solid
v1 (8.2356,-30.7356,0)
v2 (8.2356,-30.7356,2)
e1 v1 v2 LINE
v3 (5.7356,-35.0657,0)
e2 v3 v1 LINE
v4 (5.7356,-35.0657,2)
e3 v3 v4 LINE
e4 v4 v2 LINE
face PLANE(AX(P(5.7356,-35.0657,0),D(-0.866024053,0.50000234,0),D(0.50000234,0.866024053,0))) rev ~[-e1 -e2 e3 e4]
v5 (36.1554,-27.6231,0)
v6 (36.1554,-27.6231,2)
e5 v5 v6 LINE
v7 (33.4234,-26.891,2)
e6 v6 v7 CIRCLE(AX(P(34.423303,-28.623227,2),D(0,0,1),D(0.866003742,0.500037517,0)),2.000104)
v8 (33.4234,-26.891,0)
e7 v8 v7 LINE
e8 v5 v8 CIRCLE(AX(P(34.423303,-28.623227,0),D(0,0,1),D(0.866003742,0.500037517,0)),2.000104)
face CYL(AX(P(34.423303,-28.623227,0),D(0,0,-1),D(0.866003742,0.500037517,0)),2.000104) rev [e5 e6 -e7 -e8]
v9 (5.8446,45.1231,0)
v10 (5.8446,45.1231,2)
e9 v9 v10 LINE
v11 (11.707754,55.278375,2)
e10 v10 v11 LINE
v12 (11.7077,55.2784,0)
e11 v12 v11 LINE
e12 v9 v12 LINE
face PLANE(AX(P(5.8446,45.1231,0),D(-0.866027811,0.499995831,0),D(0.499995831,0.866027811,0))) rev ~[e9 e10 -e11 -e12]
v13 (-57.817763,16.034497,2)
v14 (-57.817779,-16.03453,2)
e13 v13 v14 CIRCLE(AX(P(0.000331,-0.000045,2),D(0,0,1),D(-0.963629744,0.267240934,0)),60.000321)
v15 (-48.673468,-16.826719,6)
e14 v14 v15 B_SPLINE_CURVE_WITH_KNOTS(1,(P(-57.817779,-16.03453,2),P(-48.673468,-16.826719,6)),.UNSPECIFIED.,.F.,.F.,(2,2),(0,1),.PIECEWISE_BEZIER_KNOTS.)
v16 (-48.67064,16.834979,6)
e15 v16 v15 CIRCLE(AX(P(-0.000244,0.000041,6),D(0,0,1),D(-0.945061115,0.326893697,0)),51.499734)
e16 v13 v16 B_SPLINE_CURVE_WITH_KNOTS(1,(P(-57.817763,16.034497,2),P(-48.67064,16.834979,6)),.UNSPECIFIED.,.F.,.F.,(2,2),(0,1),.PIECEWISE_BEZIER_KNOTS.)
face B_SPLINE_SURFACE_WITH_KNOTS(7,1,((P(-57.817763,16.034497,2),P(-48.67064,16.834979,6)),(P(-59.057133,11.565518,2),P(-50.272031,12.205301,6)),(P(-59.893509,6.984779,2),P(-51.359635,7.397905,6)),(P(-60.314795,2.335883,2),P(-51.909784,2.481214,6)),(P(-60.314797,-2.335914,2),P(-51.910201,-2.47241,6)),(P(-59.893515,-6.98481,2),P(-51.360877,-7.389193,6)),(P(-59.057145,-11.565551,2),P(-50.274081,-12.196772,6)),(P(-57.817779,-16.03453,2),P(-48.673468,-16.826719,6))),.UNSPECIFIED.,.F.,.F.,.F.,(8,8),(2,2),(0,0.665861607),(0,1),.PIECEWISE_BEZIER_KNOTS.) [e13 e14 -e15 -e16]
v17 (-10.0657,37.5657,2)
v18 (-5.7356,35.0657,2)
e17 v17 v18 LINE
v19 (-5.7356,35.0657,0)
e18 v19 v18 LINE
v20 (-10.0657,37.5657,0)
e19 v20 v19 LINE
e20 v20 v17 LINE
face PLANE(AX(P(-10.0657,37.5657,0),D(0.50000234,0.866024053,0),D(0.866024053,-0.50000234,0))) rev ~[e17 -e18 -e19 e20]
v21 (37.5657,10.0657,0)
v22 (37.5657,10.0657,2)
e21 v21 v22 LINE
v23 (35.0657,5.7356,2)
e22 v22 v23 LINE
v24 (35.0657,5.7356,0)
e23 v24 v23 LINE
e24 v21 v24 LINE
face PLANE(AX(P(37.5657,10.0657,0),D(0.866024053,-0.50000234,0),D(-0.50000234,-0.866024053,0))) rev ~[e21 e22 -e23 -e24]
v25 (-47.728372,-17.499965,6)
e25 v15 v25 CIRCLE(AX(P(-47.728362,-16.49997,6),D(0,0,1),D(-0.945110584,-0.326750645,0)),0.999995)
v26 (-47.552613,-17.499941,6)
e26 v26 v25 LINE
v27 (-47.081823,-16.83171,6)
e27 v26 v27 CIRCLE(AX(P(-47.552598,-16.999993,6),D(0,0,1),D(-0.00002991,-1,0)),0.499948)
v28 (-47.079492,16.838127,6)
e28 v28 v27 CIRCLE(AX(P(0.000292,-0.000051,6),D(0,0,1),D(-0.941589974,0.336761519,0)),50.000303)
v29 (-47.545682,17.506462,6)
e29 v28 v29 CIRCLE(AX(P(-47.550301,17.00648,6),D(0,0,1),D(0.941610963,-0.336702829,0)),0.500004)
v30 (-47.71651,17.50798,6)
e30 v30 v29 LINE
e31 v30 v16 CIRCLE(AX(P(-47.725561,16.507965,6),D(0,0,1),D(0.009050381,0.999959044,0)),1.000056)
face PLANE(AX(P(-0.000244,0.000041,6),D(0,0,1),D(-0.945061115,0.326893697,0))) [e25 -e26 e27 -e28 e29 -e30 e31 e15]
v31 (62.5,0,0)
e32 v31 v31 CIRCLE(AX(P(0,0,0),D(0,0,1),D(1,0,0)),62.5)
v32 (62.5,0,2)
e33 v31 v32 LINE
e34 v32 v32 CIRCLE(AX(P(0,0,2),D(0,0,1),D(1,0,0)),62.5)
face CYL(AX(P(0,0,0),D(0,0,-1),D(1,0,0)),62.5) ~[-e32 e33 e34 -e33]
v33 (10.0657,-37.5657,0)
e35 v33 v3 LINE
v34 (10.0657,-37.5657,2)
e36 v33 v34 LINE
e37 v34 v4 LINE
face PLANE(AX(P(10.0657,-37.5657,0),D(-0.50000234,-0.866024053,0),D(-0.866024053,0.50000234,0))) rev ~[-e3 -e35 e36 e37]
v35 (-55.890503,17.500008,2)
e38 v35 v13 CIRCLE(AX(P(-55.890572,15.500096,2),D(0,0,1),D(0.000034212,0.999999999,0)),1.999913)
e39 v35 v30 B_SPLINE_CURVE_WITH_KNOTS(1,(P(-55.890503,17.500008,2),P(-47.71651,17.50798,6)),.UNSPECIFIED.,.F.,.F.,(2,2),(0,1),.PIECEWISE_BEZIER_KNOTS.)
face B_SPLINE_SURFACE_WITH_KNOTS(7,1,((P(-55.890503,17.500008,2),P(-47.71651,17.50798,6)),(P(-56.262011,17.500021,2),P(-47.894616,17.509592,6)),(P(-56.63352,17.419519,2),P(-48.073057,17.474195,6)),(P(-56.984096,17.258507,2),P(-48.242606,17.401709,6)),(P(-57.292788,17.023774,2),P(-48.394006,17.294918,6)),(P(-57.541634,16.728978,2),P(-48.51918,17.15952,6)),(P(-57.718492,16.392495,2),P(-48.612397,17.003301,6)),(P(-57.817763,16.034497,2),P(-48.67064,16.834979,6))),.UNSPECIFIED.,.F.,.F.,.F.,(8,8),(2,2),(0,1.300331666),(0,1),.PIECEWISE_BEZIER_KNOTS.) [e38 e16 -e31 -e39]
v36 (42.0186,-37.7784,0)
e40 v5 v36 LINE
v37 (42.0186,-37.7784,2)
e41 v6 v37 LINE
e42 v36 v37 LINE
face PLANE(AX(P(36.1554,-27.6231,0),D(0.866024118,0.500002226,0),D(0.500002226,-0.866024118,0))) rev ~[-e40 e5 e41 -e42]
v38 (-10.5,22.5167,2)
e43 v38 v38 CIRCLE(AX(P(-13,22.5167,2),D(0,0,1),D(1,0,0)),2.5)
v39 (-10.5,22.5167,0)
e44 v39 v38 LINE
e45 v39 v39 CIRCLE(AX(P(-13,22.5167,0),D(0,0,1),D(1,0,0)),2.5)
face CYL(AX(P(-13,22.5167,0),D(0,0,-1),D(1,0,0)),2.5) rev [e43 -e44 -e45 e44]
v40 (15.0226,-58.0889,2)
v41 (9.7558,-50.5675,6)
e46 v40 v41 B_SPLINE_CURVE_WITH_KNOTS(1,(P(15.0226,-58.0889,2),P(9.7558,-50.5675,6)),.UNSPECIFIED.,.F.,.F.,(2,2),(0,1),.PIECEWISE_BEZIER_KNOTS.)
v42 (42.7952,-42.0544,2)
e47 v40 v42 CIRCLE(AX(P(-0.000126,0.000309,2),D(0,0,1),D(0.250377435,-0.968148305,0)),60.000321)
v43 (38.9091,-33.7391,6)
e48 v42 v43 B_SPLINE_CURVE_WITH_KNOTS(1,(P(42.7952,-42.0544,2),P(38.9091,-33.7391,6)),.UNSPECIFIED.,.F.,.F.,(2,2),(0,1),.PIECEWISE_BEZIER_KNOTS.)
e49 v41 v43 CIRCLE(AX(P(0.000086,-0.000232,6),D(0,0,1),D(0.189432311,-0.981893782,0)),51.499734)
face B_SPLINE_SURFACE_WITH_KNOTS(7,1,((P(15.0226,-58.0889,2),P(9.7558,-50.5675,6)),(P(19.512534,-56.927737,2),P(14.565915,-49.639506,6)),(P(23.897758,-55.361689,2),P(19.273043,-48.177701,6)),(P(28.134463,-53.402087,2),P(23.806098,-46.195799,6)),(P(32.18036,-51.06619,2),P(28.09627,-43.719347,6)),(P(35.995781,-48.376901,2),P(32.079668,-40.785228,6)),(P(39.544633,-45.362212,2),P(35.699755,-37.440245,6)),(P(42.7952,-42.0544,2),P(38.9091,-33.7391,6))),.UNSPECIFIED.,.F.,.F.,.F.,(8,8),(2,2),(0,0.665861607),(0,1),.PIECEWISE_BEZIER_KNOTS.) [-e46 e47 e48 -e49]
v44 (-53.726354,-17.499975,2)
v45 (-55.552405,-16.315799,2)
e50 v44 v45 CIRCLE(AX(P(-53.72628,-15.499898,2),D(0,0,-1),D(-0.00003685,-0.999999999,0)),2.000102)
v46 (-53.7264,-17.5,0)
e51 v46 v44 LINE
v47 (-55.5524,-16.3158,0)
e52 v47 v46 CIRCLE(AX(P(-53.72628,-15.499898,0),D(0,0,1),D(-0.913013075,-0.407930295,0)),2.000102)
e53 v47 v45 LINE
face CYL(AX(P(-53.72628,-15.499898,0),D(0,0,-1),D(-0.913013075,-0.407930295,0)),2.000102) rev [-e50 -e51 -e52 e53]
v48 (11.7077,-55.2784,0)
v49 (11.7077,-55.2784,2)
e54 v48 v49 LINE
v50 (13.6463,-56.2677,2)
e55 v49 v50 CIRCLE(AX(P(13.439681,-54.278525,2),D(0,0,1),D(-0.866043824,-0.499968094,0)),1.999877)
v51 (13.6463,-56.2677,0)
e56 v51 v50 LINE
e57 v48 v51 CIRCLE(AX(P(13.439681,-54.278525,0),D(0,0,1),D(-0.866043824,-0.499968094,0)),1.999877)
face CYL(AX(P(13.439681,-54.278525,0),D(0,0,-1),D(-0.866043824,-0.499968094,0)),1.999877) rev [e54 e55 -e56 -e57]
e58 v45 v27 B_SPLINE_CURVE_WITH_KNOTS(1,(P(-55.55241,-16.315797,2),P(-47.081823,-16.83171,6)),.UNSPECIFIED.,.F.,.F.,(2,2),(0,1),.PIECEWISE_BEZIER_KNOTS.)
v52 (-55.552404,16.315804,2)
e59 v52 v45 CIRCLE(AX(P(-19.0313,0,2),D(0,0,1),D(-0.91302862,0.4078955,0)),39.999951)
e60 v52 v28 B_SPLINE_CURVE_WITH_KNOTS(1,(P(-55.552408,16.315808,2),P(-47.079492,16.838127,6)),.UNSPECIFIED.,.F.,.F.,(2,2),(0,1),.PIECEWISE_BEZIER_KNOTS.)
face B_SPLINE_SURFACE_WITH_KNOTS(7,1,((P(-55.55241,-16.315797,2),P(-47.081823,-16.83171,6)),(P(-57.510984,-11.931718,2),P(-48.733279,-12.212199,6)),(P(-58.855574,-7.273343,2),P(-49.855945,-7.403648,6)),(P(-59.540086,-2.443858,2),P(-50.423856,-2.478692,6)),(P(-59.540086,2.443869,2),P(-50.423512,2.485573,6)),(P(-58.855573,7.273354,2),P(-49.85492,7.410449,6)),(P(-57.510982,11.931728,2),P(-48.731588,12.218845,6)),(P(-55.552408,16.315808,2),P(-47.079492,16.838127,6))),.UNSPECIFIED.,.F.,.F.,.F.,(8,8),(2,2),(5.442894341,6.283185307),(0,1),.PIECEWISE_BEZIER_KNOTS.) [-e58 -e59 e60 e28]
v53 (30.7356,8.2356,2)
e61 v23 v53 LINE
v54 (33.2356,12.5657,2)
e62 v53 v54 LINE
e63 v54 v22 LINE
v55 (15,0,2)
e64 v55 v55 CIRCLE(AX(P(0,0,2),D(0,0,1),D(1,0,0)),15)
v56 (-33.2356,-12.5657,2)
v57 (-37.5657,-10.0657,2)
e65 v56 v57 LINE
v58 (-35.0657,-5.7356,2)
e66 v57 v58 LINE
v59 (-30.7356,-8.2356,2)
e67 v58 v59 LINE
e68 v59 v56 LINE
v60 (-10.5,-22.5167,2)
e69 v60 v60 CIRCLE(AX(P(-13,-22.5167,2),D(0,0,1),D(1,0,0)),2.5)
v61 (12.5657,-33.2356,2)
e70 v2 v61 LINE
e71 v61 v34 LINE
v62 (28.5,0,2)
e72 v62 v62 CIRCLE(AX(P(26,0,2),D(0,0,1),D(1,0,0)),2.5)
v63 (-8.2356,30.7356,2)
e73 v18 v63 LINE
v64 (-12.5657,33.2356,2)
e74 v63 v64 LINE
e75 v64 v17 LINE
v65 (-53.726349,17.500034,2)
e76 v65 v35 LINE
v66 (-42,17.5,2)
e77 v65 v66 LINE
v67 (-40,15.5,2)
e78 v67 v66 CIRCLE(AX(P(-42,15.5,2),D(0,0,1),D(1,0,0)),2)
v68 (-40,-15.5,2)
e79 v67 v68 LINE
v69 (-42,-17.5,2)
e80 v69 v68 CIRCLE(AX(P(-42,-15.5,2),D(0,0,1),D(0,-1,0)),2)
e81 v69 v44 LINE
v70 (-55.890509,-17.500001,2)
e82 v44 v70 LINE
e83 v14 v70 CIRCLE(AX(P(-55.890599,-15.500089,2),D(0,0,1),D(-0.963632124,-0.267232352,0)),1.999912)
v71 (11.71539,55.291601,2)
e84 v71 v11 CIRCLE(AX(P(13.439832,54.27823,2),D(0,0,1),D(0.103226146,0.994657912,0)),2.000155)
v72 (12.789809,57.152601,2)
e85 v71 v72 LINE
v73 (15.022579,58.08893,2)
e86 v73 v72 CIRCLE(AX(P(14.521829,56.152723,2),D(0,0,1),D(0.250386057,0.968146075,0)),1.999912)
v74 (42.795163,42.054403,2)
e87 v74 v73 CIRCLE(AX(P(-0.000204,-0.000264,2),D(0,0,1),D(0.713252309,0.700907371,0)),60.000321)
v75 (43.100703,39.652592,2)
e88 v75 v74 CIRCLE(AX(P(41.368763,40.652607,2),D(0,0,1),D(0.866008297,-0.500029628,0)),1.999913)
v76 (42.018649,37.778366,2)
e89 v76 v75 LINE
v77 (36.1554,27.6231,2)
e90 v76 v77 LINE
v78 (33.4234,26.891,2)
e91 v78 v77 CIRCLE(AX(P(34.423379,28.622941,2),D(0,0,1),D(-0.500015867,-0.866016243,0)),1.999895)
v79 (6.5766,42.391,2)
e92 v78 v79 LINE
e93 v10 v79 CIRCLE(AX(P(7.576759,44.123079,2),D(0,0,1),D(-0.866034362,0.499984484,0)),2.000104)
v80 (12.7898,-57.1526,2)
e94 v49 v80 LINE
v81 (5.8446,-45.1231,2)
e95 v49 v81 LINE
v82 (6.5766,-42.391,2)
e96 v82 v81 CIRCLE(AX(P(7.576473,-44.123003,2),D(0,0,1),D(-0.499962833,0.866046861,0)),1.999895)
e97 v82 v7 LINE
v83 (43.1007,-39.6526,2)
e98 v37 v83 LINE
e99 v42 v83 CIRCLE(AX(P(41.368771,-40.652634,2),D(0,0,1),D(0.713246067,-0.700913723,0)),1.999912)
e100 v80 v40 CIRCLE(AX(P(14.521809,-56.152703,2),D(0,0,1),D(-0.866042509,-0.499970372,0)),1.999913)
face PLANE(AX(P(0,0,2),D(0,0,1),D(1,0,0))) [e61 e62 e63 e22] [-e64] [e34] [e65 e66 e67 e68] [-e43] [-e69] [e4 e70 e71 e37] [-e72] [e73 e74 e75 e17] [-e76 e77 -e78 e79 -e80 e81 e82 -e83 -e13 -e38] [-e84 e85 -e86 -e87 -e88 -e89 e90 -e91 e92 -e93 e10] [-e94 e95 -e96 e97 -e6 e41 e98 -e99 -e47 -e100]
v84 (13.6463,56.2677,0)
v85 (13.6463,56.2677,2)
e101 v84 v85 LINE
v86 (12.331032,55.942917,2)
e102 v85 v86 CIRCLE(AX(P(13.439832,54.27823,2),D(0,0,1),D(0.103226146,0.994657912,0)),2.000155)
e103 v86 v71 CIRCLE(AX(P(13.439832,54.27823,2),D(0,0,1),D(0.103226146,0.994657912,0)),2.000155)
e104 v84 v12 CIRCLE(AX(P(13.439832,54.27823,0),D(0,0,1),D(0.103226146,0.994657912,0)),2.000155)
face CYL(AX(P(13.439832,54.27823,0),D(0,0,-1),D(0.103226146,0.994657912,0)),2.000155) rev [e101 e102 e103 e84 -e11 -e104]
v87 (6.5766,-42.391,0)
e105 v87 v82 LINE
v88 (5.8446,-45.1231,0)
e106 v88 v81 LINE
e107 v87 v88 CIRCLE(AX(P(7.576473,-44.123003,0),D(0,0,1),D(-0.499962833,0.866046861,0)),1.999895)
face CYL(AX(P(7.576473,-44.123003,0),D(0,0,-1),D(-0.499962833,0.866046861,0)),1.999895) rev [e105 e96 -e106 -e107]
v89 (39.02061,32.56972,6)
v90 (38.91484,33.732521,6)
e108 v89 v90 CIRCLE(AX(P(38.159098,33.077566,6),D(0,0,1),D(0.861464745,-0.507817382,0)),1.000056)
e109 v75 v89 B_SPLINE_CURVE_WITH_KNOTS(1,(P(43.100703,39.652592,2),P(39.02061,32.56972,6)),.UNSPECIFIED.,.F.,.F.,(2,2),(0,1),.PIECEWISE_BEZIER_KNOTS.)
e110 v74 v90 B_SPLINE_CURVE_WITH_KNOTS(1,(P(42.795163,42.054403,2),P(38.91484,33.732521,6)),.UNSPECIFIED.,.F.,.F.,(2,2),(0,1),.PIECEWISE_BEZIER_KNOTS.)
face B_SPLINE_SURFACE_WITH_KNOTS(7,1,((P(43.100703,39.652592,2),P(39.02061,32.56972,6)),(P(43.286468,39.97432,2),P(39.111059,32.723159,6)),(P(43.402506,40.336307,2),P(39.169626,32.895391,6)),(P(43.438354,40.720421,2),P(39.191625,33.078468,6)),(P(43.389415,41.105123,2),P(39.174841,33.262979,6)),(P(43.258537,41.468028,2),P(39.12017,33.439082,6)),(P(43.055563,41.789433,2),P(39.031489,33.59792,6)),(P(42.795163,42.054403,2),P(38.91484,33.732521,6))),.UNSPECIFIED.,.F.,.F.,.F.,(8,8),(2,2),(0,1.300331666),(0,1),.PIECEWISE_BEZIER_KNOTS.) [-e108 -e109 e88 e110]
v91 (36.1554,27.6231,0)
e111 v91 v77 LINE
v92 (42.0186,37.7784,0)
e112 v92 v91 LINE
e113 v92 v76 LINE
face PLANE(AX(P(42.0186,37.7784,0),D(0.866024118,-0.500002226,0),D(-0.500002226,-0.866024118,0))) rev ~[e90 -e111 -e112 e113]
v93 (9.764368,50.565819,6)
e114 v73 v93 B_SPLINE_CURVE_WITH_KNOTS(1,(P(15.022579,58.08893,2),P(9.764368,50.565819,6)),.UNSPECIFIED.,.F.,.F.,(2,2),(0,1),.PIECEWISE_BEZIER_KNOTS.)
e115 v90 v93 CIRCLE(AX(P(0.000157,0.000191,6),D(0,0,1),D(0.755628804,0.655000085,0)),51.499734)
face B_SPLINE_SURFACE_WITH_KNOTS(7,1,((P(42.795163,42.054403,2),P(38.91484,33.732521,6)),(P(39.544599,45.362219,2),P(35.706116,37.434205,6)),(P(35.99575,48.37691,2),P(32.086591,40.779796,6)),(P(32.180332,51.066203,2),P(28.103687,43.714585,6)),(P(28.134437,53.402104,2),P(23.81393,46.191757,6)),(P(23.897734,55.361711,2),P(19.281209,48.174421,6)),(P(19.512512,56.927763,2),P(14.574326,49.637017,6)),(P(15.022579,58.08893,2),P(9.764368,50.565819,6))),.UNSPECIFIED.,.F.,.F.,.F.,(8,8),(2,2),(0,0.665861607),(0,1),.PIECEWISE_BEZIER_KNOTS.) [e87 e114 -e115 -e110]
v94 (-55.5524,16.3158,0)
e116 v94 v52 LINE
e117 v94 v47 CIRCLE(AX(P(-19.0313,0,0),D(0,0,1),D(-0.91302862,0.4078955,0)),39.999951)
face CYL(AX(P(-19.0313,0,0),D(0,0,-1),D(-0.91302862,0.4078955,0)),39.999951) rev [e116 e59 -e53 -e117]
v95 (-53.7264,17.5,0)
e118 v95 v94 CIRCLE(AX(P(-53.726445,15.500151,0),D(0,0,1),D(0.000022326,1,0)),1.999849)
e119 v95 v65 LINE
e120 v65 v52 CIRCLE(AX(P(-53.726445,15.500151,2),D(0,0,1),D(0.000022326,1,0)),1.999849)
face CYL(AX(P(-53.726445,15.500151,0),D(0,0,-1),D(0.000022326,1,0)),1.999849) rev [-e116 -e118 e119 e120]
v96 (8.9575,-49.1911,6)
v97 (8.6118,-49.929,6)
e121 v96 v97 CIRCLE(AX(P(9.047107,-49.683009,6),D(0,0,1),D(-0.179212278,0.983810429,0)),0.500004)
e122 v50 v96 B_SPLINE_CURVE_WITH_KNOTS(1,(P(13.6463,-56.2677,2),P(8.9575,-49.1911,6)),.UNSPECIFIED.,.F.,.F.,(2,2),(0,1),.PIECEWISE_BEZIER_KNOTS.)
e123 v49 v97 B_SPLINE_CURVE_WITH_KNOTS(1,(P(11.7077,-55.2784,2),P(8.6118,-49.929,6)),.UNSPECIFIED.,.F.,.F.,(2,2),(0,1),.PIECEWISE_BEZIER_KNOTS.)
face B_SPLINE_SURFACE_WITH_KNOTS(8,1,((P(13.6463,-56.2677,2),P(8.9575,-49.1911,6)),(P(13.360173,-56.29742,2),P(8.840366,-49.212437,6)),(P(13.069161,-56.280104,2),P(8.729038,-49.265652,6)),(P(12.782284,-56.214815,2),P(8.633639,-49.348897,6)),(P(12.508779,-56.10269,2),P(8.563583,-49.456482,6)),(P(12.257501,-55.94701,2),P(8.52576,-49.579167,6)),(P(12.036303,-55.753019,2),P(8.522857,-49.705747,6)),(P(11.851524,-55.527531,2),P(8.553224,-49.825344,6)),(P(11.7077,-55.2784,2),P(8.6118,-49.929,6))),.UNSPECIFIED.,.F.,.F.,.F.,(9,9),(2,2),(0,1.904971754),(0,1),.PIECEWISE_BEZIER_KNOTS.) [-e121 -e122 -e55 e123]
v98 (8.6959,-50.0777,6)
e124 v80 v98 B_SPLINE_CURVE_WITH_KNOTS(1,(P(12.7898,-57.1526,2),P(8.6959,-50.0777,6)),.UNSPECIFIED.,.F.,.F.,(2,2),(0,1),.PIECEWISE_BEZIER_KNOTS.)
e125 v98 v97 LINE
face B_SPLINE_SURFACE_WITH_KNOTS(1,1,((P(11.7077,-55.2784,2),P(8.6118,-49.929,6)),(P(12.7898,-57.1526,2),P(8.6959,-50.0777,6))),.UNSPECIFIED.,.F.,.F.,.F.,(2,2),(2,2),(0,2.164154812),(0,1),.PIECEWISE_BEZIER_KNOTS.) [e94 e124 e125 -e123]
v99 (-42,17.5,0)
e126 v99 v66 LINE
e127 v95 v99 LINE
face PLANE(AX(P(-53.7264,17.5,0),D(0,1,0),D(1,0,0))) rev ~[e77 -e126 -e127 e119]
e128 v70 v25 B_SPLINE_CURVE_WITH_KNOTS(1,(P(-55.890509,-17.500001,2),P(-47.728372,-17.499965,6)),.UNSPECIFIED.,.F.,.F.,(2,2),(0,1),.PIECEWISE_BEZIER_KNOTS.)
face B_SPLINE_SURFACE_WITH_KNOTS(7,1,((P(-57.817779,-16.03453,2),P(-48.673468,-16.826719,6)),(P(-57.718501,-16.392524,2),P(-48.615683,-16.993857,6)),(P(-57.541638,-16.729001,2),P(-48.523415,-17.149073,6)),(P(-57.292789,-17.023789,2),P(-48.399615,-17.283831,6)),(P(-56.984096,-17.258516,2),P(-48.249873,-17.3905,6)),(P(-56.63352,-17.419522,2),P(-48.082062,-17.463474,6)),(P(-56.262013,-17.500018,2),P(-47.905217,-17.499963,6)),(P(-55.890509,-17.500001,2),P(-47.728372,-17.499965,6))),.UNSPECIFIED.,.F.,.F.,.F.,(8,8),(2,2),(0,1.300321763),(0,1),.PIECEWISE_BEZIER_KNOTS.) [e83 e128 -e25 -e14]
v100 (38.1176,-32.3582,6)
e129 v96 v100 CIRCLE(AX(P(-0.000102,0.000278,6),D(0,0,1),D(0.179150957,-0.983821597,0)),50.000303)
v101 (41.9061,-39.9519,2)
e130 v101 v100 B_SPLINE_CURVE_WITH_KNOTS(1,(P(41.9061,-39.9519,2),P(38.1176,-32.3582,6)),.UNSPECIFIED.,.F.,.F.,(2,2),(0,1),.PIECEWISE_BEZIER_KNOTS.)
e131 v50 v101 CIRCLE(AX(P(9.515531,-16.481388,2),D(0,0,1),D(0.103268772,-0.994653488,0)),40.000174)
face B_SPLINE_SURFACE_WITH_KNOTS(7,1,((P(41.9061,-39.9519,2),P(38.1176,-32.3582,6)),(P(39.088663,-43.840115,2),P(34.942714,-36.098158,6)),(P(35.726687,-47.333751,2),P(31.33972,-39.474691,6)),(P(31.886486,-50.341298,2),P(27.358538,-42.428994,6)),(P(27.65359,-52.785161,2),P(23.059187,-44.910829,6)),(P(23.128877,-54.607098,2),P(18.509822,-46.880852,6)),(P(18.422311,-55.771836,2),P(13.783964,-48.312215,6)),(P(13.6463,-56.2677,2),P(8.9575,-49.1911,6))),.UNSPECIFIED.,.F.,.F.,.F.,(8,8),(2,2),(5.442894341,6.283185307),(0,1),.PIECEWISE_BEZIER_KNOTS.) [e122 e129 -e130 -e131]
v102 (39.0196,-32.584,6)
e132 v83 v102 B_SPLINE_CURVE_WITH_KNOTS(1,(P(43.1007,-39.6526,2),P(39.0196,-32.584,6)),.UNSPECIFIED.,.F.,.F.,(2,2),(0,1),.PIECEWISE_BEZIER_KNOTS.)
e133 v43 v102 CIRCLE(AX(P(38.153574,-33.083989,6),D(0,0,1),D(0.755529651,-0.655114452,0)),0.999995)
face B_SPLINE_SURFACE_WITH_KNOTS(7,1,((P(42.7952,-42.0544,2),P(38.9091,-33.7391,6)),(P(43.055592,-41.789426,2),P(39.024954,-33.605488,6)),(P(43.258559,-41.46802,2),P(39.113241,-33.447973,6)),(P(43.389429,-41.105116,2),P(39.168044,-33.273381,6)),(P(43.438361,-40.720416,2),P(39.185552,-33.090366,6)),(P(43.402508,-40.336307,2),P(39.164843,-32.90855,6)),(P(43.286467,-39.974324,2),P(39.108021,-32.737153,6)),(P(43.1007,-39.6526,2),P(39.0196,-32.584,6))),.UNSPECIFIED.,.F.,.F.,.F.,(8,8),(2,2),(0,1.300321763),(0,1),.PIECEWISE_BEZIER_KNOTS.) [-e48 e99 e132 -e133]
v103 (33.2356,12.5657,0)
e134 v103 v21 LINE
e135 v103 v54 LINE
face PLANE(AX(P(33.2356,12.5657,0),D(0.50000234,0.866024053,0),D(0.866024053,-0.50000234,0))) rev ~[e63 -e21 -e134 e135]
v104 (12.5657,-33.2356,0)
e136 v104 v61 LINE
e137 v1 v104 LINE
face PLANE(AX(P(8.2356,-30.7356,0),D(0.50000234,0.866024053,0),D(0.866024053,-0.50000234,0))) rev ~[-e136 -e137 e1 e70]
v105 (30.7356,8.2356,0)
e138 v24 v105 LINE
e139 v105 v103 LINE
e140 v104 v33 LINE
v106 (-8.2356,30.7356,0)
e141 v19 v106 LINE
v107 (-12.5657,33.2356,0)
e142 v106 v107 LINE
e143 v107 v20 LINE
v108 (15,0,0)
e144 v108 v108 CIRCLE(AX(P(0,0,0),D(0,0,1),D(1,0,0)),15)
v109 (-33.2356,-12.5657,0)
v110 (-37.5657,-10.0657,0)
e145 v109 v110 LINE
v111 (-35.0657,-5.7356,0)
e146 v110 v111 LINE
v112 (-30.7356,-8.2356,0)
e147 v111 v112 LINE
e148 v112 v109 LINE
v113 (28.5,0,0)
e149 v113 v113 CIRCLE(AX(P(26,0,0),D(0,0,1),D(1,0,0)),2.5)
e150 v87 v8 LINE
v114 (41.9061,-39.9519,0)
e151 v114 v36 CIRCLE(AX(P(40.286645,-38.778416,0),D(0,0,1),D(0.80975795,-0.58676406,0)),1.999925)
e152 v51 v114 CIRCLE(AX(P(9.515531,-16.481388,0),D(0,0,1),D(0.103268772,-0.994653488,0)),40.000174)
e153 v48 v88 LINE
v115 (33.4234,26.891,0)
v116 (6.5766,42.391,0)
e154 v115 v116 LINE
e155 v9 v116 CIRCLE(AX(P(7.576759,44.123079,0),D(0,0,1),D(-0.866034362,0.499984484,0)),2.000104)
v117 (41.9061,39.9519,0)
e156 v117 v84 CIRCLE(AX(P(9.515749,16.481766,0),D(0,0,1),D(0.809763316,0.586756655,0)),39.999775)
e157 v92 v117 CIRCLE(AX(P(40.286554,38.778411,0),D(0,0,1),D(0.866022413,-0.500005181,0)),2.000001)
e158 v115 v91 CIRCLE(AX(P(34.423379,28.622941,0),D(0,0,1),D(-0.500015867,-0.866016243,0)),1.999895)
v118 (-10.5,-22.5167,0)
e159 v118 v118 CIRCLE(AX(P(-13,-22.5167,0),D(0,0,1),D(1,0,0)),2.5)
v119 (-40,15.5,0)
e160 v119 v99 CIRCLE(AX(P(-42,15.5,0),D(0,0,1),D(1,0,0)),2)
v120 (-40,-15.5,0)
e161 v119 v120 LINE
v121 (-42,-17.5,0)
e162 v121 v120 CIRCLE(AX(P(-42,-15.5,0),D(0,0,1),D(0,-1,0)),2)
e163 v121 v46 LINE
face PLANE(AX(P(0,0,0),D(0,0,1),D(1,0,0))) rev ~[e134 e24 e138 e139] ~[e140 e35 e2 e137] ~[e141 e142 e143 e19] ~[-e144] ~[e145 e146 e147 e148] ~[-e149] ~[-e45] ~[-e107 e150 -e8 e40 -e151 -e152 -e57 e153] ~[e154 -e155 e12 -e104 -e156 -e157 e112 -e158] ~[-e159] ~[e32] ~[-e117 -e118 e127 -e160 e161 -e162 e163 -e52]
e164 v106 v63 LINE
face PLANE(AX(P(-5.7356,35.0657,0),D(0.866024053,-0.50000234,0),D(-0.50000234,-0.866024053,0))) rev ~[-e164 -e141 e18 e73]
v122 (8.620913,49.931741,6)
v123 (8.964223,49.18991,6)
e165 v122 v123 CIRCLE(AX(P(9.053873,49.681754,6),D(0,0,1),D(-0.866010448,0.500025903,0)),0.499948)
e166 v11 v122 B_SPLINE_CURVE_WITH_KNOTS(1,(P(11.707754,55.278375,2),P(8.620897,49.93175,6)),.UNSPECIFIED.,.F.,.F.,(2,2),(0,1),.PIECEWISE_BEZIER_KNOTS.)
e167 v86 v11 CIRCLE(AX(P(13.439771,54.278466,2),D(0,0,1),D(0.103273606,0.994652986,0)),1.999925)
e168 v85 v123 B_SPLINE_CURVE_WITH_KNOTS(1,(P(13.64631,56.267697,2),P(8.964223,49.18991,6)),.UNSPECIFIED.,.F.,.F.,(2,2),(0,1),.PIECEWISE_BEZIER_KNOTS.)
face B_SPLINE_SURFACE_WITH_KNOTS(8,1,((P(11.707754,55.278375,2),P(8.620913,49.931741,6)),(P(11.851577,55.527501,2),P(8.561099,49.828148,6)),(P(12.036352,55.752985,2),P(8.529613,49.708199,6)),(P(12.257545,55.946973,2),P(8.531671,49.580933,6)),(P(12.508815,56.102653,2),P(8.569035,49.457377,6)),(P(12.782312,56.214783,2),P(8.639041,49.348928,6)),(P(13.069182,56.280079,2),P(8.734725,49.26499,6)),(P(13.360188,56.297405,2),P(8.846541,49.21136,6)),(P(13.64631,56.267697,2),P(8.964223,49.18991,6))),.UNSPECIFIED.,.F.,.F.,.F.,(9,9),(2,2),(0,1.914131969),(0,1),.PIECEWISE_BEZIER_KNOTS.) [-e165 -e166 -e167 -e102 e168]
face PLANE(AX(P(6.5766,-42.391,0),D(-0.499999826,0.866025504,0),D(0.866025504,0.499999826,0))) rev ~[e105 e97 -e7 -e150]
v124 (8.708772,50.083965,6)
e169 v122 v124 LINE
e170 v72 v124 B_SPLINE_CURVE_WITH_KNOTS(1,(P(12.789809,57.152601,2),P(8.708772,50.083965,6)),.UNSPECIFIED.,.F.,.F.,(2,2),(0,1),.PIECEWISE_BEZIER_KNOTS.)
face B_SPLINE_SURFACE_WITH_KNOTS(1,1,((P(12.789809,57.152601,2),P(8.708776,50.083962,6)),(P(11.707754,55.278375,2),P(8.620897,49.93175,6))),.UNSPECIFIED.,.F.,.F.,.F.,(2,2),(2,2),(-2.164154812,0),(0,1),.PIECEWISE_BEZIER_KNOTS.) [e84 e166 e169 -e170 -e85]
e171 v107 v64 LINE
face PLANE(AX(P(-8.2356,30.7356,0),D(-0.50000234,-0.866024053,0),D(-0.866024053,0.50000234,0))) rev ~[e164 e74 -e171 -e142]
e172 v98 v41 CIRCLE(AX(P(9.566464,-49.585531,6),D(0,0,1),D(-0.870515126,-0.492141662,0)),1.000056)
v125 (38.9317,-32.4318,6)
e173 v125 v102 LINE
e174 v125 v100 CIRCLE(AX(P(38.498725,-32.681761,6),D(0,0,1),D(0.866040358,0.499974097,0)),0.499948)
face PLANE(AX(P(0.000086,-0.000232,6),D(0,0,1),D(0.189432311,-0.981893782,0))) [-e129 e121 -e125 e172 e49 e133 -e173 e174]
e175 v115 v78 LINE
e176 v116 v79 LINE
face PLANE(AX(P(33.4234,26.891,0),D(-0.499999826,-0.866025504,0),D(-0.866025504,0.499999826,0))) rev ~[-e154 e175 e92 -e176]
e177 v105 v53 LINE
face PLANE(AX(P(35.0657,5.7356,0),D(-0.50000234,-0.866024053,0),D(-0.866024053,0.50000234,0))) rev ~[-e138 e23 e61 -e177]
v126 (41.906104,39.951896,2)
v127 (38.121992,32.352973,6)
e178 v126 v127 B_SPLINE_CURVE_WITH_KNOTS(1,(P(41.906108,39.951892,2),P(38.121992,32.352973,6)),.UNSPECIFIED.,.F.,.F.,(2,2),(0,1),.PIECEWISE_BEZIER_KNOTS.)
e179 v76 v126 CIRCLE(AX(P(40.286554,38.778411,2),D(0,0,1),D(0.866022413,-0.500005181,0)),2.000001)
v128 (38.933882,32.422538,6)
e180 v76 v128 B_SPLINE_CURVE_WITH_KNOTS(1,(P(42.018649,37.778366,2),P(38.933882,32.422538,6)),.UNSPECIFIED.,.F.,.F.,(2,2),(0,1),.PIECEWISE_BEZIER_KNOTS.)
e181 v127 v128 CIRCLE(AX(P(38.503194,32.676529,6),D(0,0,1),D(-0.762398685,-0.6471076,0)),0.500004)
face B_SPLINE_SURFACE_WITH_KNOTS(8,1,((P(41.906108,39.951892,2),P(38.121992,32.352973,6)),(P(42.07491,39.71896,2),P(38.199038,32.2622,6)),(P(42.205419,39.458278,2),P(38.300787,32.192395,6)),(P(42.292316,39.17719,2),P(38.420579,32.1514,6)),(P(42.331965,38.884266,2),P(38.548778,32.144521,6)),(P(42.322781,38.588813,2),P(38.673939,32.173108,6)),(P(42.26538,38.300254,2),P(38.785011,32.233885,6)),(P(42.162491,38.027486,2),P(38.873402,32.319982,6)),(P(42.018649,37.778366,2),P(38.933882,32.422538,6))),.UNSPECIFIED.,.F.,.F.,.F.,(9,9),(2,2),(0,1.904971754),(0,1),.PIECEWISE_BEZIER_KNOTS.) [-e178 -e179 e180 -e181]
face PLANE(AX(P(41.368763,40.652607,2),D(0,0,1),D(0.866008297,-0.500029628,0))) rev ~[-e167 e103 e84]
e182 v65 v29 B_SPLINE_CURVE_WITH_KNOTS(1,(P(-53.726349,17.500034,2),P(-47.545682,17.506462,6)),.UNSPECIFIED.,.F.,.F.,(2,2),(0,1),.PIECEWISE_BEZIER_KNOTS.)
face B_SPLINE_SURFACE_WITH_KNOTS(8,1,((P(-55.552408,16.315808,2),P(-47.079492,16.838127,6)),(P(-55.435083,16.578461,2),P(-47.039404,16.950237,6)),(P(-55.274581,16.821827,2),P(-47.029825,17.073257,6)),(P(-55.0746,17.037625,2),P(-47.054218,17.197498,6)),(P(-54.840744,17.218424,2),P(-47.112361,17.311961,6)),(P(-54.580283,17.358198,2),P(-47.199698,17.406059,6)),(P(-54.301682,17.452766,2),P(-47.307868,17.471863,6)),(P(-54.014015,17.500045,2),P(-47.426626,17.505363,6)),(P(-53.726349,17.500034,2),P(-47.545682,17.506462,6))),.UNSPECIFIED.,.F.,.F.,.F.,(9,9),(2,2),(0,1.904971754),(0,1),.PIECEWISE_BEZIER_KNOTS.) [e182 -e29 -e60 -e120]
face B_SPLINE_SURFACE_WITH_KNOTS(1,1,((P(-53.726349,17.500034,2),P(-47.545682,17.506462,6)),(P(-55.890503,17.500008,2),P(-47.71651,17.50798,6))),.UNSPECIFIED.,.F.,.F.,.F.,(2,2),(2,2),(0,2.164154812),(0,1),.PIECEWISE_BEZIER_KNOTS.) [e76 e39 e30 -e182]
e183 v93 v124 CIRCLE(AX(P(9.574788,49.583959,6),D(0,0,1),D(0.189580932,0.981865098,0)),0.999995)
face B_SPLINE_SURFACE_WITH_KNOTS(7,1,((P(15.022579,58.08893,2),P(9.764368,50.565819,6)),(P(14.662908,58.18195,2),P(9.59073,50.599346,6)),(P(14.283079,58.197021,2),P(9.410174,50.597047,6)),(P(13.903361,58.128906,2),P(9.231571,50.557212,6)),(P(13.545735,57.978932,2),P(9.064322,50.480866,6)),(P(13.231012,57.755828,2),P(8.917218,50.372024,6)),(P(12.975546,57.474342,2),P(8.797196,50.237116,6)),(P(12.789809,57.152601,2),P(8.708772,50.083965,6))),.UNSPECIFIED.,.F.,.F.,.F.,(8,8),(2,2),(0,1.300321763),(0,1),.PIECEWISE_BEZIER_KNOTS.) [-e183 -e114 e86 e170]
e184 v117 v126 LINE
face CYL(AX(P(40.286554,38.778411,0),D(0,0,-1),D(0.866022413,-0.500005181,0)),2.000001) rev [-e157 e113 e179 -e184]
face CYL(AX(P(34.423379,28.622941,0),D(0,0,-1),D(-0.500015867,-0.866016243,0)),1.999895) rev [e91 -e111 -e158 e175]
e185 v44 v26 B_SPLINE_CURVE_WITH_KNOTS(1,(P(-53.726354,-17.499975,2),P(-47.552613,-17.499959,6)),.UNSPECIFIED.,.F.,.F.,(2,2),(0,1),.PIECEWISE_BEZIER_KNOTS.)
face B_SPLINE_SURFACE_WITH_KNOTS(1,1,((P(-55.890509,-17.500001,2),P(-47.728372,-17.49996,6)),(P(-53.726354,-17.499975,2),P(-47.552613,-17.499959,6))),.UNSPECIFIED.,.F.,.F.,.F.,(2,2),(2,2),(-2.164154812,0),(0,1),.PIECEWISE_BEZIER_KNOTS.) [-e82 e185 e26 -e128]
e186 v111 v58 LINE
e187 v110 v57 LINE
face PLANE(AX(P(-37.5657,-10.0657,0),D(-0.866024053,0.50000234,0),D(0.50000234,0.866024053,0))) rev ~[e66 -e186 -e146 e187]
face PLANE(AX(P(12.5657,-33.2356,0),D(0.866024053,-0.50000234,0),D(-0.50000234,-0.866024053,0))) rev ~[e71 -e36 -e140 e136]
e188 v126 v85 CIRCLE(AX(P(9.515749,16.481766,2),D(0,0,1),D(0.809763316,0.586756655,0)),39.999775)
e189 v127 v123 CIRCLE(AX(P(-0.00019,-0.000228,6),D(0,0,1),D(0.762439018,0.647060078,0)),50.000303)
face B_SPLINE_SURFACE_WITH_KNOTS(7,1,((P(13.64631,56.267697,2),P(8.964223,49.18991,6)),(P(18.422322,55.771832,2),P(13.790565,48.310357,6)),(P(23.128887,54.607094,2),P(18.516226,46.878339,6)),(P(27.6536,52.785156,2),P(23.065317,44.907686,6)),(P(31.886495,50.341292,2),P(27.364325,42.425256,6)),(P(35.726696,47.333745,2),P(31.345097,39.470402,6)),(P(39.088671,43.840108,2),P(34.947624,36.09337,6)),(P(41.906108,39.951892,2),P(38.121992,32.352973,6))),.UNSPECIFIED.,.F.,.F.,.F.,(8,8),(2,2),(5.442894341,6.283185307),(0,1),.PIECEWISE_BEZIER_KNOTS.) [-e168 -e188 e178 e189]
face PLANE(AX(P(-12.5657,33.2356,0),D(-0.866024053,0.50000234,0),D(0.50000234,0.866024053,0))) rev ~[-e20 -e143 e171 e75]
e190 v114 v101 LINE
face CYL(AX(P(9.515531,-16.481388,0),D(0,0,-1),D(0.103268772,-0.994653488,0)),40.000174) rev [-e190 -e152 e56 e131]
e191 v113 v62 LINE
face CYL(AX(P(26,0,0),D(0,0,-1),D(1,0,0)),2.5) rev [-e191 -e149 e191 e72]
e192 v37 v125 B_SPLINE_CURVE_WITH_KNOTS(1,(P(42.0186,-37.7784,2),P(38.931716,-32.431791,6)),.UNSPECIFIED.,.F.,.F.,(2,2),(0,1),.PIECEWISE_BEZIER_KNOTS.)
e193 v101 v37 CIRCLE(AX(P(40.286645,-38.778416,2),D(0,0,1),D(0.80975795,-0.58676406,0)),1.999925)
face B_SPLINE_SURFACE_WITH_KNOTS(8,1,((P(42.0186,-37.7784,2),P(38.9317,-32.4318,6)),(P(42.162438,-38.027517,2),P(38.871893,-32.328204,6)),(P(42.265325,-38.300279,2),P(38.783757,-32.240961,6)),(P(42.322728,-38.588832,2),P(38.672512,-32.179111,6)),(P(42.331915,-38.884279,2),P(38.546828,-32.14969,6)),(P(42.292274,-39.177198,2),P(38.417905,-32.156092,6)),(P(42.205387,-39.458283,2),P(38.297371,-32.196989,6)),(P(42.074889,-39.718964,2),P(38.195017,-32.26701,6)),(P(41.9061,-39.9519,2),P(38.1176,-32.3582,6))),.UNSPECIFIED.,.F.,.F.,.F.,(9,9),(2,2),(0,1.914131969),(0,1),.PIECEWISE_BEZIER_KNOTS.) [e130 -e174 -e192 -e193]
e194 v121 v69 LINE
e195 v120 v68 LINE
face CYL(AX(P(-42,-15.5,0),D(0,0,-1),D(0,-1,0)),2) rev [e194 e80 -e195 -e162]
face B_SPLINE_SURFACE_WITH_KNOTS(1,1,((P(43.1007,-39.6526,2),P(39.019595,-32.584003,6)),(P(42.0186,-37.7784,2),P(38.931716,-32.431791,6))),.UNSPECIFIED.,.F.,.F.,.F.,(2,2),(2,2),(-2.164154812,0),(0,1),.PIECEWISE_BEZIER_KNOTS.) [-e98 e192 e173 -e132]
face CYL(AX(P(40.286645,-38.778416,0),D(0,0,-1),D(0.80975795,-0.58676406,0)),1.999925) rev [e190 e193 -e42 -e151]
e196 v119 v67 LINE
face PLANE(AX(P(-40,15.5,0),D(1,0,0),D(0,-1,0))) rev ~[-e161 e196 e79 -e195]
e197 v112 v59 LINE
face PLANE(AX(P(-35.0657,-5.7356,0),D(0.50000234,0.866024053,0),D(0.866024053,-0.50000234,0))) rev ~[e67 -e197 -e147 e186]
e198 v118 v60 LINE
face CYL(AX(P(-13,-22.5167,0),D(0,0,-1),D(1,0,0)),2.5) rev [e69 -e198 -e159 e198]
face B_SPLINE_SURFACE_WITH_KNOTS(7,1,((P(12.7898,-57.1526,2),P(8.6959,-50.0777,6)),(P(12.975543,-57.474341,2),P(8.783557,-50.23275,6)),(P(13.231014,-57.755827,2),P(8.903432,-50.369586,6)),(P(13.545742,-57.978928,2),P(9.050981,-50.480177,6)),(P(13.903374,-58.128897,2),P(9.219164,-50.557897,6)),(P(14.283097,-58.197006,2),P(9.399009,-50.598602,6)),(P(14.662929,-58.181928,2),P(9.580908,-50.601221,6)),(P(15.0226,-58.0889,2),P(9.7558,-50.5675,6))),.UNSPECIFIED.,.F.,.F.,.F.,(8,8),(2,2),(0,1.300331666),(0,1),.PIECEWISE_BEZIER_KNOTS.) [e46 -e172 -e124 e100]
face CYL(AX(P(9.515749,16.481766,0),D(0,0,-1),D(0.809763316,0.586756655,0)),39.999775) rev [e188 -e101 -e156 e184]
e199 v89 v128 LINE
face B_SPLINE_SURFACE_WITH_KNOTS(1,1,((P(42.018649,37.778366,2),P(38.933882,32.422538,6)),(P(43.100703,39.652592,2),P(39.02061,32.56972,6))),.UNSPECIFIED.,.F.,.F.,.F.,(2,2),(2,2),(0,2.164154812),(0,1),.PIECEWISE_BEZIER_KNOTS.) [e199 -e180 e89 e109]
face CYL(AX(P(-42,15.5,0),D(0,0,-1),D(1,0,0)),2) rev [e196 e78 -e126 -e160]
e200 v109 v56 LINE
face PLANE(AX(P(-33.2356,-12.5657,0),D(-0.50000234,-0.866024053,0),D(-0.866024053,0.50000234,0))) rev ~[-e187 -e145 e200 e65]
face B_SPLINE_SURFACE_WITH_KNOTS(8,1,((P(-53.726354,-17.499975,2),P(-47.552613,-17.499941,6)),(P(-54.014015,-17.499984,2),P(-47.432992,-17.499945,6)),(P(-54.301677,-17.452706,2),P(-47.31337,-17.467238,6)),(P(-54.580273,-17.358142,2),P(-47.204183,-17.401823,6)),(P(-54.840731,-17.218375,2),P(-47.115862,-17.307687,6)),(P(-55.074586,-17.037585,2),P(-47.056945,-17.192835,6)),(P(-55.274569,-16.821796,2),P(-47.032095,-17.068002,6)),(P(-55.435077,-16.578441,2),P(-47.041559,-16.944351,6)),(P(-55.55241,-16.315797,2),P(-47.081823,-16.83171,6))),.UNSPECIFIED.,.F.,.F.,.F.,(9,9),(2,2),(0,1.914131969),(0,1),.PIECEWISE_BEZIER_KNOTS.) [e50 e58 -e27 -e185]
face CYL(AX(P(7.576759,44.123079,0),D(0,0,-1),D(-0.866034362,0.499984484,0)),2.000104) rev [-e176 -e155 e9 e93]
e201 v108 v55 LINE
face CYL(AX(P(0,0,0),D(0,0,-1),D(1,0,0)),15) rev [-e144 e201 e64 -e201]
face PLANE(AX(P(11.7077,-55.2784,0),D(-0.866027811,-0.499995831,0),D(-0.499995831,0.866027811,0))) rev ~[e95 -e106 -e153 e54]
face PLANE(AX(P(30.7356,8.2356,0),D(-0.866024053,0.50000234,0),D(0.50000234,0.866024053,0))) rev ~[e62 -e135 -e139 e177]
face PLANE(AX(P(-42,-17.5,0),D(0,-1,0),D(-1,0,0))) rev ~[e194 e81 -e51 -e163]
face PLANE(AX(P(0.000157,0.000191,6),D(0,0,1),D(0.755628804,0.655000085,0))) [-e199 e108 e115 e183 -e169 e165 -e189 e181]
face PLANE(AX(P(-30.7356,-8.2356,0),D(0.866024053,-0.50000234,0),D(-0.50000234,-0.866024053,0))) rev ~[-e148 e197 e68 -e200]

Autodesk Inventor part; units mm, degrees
ref_plane "YZ Plane" through (0, 0, 0) normal (1, 0, 0) x (0, 1, 0)
ref_plane "XZ Plane" through (0, 0, 0) normal (0, 1, 0) x (-1, 0, 0)
ref_plane "Płaszczyzna konstrukcyjna1" through (0, 0, 0) normal (0, 0, 1) x (1, 0, 0)
sketch "Szkic1" plane through (0, 0, 0) normal (0, 0, 1) x (1, 0, 0)
  line L0 (-10.0657, 37.5657) -> (-5.7356, 35.0657) projected
  line L1 (-5.7356, 35.0657) -> (-8.2356, 30.7356) projected
  line L2 (-8.2356, 30.7356) -> (-12.5657, 33.2356) projected
  line L3 (-12.5657, 33.2356) -> (-10.0657, 37.5657) projected
  line L4 (-35.0657, -5.7356) -> (-30.7356, -8.2356) projected
  line L5 (-30.7356, -8.2356) -> (-33.2356, -12.5657) projected
  line L6 (-33.2356, -12.5657) -> (-37.5657, -10.0657) projected
  line L7 (-37.5657, -10.0657) -> (-35.0657, -5.7356) projected
  line L8 (8.2356, -30.7356) -> (12.5657, -33.2356) projected
  line L9 (12.5657, -33.2356) -> (10.0657, -37.5657) projected
  line L10 (10.0657, -37.5657) -> (5.7356, -35.0657) projected
  line L11 (5.7356, -35.0657) -> (8.2356, -30.7356) projected
  line L12 (33.2356, 12.5657) -> (37.5657, 10.0657) projected
  line L13 (37.5657, 10.0657) -> (35.0657, 5.7356) projected
  line L14 (35.0657, 5.7356) -> (30.7356, 8.2356) projected
  line L15 (30.7356, 8.2356) -> (33.2356, 12.5657) projected
  arc A0 (5.8446, 45.1231) -> (6.5766, 42.391) centre (7.5766, 44.1231) ccw projected
  line L16 (5.8446, 45.1231) -> (11.7077, 55.2784) projected
  arc A1 (13.6463, 56.2677) -> (11.7077, 55.2784) centre (13.4398, 54.2784) ccw projected
  arc A2 (41.9061, 39.9519) -> (13.6463, 56.2677) centre (9.5156, 16.4816) ccw projected
  arc A3 (42.0186, 37.7784) -> (41.9061, 39.9519) centre (40.2866, 38.7784) ccw projected
  line L17 (42.0186, 37.7784) -> (36.1554, 27.6231) projected
  arc A4 (33.4234, 26.891) -> (36.1554, 27.6231) centre (34.4234, 28.6231) ccw projected
  line L18 (33.4234, 26.891) -> (6.5766, 42.391) projected
  arc A5 (-53.7264, 17.5) -> (-55.5524, 16.3158) centre (-53.7264, 15.5) ccw projected
  line L19 (-53.7264, 17.5) -> (-42, 17.5) projected
  arc A6 (-40, 15.5) -> (-42, 17.5) centre (-42, 15.5) ccw projected
  line L20 (-40, 15.5) -> (-40, -15.5) projected
  arc A7 (-42, -17.5) -> (-40, -15.5) centre (-42, -15.5) ccw projected
  line L21 (-42, -17.5) -> (-53.7264, -17.5) projected
  arc A8 (-55.5524, -16.3158) -> (-53.7264, -17.5) centre (-53.7264, -15.5) ccw projected
  arc A9 (-55.5524, 16.3158) -> (-55.5524, -16.3158) centre (-19.0313, 0) ccw projected
  arc A10 (11.7077, -55.2784) -> (13.6463, -56.2677) centre (13.4398, -54.2784) ccw projected
  line L22 (11.7077, -55.2784) -> (5.8446, -45.1231) projected
  arc A11 (6.5766, -42.391) -> (5.8446, -45.1231) centre (7.5766, -44.1231) ccw projected
  line L23 (6.5766, -42.391) -> (33.4234, -26.891) projected
  arc A12 (36.1554, -27.6231) -> (33.4234, -26.891) centre (34.4234, -28.6231) ccw projected
  line L24 (36.1554, -27.6231) -> (42.0186, -37.7784) projected
  arc A13 (41.9061, -39.9519) -> (42.0186, -37.7784) centre (40.2866, -38.7784) ccw projected
  arc A14 (13.6463, -56.2677) -> (41.9061, -39.9519) centre (9.5156, -16.4816) ccw projected
  circle A15 centre (-13, 22.5167) radius 2.5 projected
  circle A16 centre (-13, -22.5167) radius 2.5 projected
  circle A17 centre (26, 0) radius 2.5 projected
  circle A18 centre (0, 0) radius 15 projected
  arc A19 (38.3351, 56.2857) -> (38.8994, 52.0753) centre (40.6782, 54.4567) ccw projected
  arc A20 (41.0855, 56.6743) -> (38.3351, 56.2857) centre (39.9117, 55.0551) ccw projected
  arc A21 (69.6301, 7.1871) -> (41.0855, 56.6743) centre (0, 0) ccw projected
  arc A22 (67.9165, 5.0008) -> (69.6301, 7.1871) centre (67.6406, 6.9817) ccw projected
  arc A23 (64.5545, 7.5974) -> (67.9165, 5.0008) centre (67.5065, 7.9448) ccw projected
  arc A24 (64.5545, 7.5974) -> (38.8994, 52.0753) centre (0, 0) ccw projected
  arc A25 (38.8568, -52.1071) -> (64.5482, -7.6502) centre (0, 0) ccw projected
  arc A26 (67.9124, -5.0563) -> (64.5482, -7.6502) centre (67.5, -8) ccw projected
  arc A27 (69.6242, -7.244) -> (67.9124, -5.0563) centre (67.6349, -7.037) ccw projected
  arc A28 (41.0392, -56.7079) -> (69.6242, -7.244) centre (0, 0) ccw projected
  arc A29 (38.2891, -56.317) -> (41.0392, -56.7079) centre (39.8667, -55.0877) ccw projected
  arc A30 (38.8568, -52.1071) -> (38.2891, -56.317) centre (40.6337, -54.4899) ccw projected
  arc A31 (-25.6977, -59.7045) -> (25.6489, -59.7255) centre (0, 0) ccw projected
  arc A32 (29.5773, -61.342) -> (25.6489, -59.7255) centre (26.8218, -62.4567) ccw projected
  arc A33 (28.5386, -63.9183) -> (29.5773, -61.342) centre (27.7232, -62.092) ccw projected
  arc A34 (-28.5909, -63.8949) -> (28.5386, -63.9183) centre (0, 0) ccw projected
  arc A35 (-29.6274, -61.3178) -> (-28.5909, -63.8949) centre (-27.774, -62.0694) ccw projected
  arc A36 (-25.6977, -59.7045) -> (-29.6274, -61.3178) centre (-26.8728, -62.4348) ccw projected
  arc A37 (-64.5545, -7.5974) -> (-38.8994, -52.0753) centre (0, 0) ccw projected
  arc A38 (-38.3351, -56.2857) -> (-38.8994, -52.0753) centre (-40.6782, -54.4567) ccw projected
  arc A39 (-41.0855, -56.6743) -> (-38.3351, -56.2857) centre (-39.9117, -55.0551) ccw projected
  arc A40 (-69.6301, -7.1871) -> (-41.0855, -56.6743) centre (0, 0) ccw projected
  arc A41 (-67.9165, -5.0008) -> (-69.6301, -7.1871) centre (-67.6406, -6.9817) ccw projected
  arc A42 (-64.5545, -7.5974) -> (-67.9165, -5.0008) centre (-67.5065, -7.9448) ccw projected
  arc A43 (-38.8568, 52.1071) -> (-64.5482, 7.6502) centre (0, 0) ccw projected
  arc A44 (-67.9124, 5.0563) -> (-64.5482, 7.6502) centre (-67.5, 8) ccw projected
  arc A45 (-69.6242, 7.244) -> (-67.9124, 5.0563) centre (-67.6349, 7.037) ccw projected
  arc A46 (-41.0392, 56.7079) -> (-69.6242, 7.244) centre (0, 0) ccw projected
  arc A47 (-38.2891, 56.317) -> (-41.0392, 56.7079) centre (-39.8667, 55.0877) ccw projected
  arc A48 (-38.8568, 52.1071) -> (-38.2891, 56.317) centre (-40.6337, 54.4899) ccw projected
  arc A49 (25.6977, 59.7045) -> (-25.6489, 59.7255) centre (0, 0) ccw projected
  arc A50 (-29.5773, 61.342) -> (-25.6489, 59.7255) centre (-26.8218, 62.4567) ccw projected
  arc A51 (-28.5386, 63.9183) -> (-29.5773, 61.342) centre (-27.7232, 62.092) ccw projected
  arc A52 (28.5909, 63.8949) -> (-28.5386, 63.9183) centre (0, 0) ccw projected
  arc A53 (29.6274, 61.3178) -> (28.5909, 63.8949) centre (27.774, 62.0694) ccw projected
  arc A54 (25.6977, 59.7045) -> (29.6274, 61.3178) centre (26.8728, 62.4348) ccw projected
  circle A55 centre (0, 0) radius 100 projected
  circle A56 centre (0, 0) radius 62.5
  point P0 (0, 0)
  dimension "d0" = 125
extrude "Wyciągnięcie proste1" add sketch "Szkic1" along normal blind 2 contours A56
sketch "Szkic2" plane through (0, 0, 2) normal (0, 0, 1) x (1, 0, 0)
  arc A0 (15.0226, -58.0889) -> (42.7952, -42.0544) centre (0, 0) ccw
  arc A1 (13.6463, -56.2677) -> (41.9061, -39.9519) centre (9.5156, -16.4816) ccw projected
  arc A2 (11.7077, -55.2784) -> (13.6463, -56.2677) centre (13.4398, -54.2784) ccw projected
  arc A3 (41.9061, -39.9519) -> (42.0186, -37.7784) centre (40.2866, -38.7784) ccw projected
  line L0 (36.1554, -27.6231) -> (42.0186, -37.7784) projected
  line L1 (42.0186, -37.7784) -> (43.1007, -39.6526)
  line L2 (11.7077, -55.2784) -> (5.8446, -45.1231) projected
  line L3 (11.7077, -55.2784) -> (12.7898, -57.1526)
  arc A4 (42.7952, -42.0544) -> (43.1007, -39.6526) centre (41.3687, -40.6526) ccw
  arc A5 (12.7898, -57.1526) -> (15.0226, -58.0889) centre (14.5219, -56.1526) ccw
  point P0 (43.851, -40.9522)
  point P1 (13.5402, -58.4522)
  dimension "d3" = 120
  dimension "d4" = 2
ref_plane "Płaszczyzna konstrukcyjna2" through (0, 0, 6) normal (0, 0, 1) x (1, 0, 0)
sketch "Szkic5" plane through (0, 0, 6) normal (0, 0, 1) x (1, 0, 0)
  arc A0 (8.9575, -49.1911) -> (38.1176, -32.3582) centre (0, 0) ccw
  arc A1 (9.7558, -50.5675) -> (38.9091, -33.7391) centre (0, 0) ccw
  line L0 (8.6959, -50.0777) -> (8.6118, -49.929)
  line L1 (11.7077, -55.2784) -> (5.8446, -45.1231) projected
  line L2 (36.1554, -27.6231) -> (42.0186, -37.7784) projected
  line L3 (39.0196, -32.584) -> (38.9317, -32.4318)
  arc A2 (8.6959, -50.0777) -> (9.7558, -50.5675) centre (9.5664, -49.5856) ccw
  arc A3 (8.9575, -49.1911) -> (8.6118, -49.929) centre (9.0471, -49.683) ccw
  arc A4 (38.9317, -32.4318) -> (38.1176, -32.3582) centre (38.4987, -32.6818) ccw
  arc A5 (38.9091, -33.7391) -> (39.0196, -32.584) centre (38.1536, -33.084) ccw
  point P0 (9.0471, -50.6991)
  point P1 (8.2633, -49.3125)
  point P2 (39.3732, -33.1964)
  point P3 (38.5742, -31.8125)
  dimension "d8" = 100
  dimension "d9" = 103
  dimension "d10" = 1
  dimension "d11" = 0.5
  dimension "d12" = 1
loft "Wyciągnięcie złożone1" add profiles "Szkic2", "Szkic5"
pattern_circular "Szyk kołowy1" count 3 over 360 about axis through (0, 0, 0) along (0, 0, 1) of "Wyciągnięcie złożone1"
properties part number "Tarcza_OsłonaA" material "Stal, galwanizowana"
